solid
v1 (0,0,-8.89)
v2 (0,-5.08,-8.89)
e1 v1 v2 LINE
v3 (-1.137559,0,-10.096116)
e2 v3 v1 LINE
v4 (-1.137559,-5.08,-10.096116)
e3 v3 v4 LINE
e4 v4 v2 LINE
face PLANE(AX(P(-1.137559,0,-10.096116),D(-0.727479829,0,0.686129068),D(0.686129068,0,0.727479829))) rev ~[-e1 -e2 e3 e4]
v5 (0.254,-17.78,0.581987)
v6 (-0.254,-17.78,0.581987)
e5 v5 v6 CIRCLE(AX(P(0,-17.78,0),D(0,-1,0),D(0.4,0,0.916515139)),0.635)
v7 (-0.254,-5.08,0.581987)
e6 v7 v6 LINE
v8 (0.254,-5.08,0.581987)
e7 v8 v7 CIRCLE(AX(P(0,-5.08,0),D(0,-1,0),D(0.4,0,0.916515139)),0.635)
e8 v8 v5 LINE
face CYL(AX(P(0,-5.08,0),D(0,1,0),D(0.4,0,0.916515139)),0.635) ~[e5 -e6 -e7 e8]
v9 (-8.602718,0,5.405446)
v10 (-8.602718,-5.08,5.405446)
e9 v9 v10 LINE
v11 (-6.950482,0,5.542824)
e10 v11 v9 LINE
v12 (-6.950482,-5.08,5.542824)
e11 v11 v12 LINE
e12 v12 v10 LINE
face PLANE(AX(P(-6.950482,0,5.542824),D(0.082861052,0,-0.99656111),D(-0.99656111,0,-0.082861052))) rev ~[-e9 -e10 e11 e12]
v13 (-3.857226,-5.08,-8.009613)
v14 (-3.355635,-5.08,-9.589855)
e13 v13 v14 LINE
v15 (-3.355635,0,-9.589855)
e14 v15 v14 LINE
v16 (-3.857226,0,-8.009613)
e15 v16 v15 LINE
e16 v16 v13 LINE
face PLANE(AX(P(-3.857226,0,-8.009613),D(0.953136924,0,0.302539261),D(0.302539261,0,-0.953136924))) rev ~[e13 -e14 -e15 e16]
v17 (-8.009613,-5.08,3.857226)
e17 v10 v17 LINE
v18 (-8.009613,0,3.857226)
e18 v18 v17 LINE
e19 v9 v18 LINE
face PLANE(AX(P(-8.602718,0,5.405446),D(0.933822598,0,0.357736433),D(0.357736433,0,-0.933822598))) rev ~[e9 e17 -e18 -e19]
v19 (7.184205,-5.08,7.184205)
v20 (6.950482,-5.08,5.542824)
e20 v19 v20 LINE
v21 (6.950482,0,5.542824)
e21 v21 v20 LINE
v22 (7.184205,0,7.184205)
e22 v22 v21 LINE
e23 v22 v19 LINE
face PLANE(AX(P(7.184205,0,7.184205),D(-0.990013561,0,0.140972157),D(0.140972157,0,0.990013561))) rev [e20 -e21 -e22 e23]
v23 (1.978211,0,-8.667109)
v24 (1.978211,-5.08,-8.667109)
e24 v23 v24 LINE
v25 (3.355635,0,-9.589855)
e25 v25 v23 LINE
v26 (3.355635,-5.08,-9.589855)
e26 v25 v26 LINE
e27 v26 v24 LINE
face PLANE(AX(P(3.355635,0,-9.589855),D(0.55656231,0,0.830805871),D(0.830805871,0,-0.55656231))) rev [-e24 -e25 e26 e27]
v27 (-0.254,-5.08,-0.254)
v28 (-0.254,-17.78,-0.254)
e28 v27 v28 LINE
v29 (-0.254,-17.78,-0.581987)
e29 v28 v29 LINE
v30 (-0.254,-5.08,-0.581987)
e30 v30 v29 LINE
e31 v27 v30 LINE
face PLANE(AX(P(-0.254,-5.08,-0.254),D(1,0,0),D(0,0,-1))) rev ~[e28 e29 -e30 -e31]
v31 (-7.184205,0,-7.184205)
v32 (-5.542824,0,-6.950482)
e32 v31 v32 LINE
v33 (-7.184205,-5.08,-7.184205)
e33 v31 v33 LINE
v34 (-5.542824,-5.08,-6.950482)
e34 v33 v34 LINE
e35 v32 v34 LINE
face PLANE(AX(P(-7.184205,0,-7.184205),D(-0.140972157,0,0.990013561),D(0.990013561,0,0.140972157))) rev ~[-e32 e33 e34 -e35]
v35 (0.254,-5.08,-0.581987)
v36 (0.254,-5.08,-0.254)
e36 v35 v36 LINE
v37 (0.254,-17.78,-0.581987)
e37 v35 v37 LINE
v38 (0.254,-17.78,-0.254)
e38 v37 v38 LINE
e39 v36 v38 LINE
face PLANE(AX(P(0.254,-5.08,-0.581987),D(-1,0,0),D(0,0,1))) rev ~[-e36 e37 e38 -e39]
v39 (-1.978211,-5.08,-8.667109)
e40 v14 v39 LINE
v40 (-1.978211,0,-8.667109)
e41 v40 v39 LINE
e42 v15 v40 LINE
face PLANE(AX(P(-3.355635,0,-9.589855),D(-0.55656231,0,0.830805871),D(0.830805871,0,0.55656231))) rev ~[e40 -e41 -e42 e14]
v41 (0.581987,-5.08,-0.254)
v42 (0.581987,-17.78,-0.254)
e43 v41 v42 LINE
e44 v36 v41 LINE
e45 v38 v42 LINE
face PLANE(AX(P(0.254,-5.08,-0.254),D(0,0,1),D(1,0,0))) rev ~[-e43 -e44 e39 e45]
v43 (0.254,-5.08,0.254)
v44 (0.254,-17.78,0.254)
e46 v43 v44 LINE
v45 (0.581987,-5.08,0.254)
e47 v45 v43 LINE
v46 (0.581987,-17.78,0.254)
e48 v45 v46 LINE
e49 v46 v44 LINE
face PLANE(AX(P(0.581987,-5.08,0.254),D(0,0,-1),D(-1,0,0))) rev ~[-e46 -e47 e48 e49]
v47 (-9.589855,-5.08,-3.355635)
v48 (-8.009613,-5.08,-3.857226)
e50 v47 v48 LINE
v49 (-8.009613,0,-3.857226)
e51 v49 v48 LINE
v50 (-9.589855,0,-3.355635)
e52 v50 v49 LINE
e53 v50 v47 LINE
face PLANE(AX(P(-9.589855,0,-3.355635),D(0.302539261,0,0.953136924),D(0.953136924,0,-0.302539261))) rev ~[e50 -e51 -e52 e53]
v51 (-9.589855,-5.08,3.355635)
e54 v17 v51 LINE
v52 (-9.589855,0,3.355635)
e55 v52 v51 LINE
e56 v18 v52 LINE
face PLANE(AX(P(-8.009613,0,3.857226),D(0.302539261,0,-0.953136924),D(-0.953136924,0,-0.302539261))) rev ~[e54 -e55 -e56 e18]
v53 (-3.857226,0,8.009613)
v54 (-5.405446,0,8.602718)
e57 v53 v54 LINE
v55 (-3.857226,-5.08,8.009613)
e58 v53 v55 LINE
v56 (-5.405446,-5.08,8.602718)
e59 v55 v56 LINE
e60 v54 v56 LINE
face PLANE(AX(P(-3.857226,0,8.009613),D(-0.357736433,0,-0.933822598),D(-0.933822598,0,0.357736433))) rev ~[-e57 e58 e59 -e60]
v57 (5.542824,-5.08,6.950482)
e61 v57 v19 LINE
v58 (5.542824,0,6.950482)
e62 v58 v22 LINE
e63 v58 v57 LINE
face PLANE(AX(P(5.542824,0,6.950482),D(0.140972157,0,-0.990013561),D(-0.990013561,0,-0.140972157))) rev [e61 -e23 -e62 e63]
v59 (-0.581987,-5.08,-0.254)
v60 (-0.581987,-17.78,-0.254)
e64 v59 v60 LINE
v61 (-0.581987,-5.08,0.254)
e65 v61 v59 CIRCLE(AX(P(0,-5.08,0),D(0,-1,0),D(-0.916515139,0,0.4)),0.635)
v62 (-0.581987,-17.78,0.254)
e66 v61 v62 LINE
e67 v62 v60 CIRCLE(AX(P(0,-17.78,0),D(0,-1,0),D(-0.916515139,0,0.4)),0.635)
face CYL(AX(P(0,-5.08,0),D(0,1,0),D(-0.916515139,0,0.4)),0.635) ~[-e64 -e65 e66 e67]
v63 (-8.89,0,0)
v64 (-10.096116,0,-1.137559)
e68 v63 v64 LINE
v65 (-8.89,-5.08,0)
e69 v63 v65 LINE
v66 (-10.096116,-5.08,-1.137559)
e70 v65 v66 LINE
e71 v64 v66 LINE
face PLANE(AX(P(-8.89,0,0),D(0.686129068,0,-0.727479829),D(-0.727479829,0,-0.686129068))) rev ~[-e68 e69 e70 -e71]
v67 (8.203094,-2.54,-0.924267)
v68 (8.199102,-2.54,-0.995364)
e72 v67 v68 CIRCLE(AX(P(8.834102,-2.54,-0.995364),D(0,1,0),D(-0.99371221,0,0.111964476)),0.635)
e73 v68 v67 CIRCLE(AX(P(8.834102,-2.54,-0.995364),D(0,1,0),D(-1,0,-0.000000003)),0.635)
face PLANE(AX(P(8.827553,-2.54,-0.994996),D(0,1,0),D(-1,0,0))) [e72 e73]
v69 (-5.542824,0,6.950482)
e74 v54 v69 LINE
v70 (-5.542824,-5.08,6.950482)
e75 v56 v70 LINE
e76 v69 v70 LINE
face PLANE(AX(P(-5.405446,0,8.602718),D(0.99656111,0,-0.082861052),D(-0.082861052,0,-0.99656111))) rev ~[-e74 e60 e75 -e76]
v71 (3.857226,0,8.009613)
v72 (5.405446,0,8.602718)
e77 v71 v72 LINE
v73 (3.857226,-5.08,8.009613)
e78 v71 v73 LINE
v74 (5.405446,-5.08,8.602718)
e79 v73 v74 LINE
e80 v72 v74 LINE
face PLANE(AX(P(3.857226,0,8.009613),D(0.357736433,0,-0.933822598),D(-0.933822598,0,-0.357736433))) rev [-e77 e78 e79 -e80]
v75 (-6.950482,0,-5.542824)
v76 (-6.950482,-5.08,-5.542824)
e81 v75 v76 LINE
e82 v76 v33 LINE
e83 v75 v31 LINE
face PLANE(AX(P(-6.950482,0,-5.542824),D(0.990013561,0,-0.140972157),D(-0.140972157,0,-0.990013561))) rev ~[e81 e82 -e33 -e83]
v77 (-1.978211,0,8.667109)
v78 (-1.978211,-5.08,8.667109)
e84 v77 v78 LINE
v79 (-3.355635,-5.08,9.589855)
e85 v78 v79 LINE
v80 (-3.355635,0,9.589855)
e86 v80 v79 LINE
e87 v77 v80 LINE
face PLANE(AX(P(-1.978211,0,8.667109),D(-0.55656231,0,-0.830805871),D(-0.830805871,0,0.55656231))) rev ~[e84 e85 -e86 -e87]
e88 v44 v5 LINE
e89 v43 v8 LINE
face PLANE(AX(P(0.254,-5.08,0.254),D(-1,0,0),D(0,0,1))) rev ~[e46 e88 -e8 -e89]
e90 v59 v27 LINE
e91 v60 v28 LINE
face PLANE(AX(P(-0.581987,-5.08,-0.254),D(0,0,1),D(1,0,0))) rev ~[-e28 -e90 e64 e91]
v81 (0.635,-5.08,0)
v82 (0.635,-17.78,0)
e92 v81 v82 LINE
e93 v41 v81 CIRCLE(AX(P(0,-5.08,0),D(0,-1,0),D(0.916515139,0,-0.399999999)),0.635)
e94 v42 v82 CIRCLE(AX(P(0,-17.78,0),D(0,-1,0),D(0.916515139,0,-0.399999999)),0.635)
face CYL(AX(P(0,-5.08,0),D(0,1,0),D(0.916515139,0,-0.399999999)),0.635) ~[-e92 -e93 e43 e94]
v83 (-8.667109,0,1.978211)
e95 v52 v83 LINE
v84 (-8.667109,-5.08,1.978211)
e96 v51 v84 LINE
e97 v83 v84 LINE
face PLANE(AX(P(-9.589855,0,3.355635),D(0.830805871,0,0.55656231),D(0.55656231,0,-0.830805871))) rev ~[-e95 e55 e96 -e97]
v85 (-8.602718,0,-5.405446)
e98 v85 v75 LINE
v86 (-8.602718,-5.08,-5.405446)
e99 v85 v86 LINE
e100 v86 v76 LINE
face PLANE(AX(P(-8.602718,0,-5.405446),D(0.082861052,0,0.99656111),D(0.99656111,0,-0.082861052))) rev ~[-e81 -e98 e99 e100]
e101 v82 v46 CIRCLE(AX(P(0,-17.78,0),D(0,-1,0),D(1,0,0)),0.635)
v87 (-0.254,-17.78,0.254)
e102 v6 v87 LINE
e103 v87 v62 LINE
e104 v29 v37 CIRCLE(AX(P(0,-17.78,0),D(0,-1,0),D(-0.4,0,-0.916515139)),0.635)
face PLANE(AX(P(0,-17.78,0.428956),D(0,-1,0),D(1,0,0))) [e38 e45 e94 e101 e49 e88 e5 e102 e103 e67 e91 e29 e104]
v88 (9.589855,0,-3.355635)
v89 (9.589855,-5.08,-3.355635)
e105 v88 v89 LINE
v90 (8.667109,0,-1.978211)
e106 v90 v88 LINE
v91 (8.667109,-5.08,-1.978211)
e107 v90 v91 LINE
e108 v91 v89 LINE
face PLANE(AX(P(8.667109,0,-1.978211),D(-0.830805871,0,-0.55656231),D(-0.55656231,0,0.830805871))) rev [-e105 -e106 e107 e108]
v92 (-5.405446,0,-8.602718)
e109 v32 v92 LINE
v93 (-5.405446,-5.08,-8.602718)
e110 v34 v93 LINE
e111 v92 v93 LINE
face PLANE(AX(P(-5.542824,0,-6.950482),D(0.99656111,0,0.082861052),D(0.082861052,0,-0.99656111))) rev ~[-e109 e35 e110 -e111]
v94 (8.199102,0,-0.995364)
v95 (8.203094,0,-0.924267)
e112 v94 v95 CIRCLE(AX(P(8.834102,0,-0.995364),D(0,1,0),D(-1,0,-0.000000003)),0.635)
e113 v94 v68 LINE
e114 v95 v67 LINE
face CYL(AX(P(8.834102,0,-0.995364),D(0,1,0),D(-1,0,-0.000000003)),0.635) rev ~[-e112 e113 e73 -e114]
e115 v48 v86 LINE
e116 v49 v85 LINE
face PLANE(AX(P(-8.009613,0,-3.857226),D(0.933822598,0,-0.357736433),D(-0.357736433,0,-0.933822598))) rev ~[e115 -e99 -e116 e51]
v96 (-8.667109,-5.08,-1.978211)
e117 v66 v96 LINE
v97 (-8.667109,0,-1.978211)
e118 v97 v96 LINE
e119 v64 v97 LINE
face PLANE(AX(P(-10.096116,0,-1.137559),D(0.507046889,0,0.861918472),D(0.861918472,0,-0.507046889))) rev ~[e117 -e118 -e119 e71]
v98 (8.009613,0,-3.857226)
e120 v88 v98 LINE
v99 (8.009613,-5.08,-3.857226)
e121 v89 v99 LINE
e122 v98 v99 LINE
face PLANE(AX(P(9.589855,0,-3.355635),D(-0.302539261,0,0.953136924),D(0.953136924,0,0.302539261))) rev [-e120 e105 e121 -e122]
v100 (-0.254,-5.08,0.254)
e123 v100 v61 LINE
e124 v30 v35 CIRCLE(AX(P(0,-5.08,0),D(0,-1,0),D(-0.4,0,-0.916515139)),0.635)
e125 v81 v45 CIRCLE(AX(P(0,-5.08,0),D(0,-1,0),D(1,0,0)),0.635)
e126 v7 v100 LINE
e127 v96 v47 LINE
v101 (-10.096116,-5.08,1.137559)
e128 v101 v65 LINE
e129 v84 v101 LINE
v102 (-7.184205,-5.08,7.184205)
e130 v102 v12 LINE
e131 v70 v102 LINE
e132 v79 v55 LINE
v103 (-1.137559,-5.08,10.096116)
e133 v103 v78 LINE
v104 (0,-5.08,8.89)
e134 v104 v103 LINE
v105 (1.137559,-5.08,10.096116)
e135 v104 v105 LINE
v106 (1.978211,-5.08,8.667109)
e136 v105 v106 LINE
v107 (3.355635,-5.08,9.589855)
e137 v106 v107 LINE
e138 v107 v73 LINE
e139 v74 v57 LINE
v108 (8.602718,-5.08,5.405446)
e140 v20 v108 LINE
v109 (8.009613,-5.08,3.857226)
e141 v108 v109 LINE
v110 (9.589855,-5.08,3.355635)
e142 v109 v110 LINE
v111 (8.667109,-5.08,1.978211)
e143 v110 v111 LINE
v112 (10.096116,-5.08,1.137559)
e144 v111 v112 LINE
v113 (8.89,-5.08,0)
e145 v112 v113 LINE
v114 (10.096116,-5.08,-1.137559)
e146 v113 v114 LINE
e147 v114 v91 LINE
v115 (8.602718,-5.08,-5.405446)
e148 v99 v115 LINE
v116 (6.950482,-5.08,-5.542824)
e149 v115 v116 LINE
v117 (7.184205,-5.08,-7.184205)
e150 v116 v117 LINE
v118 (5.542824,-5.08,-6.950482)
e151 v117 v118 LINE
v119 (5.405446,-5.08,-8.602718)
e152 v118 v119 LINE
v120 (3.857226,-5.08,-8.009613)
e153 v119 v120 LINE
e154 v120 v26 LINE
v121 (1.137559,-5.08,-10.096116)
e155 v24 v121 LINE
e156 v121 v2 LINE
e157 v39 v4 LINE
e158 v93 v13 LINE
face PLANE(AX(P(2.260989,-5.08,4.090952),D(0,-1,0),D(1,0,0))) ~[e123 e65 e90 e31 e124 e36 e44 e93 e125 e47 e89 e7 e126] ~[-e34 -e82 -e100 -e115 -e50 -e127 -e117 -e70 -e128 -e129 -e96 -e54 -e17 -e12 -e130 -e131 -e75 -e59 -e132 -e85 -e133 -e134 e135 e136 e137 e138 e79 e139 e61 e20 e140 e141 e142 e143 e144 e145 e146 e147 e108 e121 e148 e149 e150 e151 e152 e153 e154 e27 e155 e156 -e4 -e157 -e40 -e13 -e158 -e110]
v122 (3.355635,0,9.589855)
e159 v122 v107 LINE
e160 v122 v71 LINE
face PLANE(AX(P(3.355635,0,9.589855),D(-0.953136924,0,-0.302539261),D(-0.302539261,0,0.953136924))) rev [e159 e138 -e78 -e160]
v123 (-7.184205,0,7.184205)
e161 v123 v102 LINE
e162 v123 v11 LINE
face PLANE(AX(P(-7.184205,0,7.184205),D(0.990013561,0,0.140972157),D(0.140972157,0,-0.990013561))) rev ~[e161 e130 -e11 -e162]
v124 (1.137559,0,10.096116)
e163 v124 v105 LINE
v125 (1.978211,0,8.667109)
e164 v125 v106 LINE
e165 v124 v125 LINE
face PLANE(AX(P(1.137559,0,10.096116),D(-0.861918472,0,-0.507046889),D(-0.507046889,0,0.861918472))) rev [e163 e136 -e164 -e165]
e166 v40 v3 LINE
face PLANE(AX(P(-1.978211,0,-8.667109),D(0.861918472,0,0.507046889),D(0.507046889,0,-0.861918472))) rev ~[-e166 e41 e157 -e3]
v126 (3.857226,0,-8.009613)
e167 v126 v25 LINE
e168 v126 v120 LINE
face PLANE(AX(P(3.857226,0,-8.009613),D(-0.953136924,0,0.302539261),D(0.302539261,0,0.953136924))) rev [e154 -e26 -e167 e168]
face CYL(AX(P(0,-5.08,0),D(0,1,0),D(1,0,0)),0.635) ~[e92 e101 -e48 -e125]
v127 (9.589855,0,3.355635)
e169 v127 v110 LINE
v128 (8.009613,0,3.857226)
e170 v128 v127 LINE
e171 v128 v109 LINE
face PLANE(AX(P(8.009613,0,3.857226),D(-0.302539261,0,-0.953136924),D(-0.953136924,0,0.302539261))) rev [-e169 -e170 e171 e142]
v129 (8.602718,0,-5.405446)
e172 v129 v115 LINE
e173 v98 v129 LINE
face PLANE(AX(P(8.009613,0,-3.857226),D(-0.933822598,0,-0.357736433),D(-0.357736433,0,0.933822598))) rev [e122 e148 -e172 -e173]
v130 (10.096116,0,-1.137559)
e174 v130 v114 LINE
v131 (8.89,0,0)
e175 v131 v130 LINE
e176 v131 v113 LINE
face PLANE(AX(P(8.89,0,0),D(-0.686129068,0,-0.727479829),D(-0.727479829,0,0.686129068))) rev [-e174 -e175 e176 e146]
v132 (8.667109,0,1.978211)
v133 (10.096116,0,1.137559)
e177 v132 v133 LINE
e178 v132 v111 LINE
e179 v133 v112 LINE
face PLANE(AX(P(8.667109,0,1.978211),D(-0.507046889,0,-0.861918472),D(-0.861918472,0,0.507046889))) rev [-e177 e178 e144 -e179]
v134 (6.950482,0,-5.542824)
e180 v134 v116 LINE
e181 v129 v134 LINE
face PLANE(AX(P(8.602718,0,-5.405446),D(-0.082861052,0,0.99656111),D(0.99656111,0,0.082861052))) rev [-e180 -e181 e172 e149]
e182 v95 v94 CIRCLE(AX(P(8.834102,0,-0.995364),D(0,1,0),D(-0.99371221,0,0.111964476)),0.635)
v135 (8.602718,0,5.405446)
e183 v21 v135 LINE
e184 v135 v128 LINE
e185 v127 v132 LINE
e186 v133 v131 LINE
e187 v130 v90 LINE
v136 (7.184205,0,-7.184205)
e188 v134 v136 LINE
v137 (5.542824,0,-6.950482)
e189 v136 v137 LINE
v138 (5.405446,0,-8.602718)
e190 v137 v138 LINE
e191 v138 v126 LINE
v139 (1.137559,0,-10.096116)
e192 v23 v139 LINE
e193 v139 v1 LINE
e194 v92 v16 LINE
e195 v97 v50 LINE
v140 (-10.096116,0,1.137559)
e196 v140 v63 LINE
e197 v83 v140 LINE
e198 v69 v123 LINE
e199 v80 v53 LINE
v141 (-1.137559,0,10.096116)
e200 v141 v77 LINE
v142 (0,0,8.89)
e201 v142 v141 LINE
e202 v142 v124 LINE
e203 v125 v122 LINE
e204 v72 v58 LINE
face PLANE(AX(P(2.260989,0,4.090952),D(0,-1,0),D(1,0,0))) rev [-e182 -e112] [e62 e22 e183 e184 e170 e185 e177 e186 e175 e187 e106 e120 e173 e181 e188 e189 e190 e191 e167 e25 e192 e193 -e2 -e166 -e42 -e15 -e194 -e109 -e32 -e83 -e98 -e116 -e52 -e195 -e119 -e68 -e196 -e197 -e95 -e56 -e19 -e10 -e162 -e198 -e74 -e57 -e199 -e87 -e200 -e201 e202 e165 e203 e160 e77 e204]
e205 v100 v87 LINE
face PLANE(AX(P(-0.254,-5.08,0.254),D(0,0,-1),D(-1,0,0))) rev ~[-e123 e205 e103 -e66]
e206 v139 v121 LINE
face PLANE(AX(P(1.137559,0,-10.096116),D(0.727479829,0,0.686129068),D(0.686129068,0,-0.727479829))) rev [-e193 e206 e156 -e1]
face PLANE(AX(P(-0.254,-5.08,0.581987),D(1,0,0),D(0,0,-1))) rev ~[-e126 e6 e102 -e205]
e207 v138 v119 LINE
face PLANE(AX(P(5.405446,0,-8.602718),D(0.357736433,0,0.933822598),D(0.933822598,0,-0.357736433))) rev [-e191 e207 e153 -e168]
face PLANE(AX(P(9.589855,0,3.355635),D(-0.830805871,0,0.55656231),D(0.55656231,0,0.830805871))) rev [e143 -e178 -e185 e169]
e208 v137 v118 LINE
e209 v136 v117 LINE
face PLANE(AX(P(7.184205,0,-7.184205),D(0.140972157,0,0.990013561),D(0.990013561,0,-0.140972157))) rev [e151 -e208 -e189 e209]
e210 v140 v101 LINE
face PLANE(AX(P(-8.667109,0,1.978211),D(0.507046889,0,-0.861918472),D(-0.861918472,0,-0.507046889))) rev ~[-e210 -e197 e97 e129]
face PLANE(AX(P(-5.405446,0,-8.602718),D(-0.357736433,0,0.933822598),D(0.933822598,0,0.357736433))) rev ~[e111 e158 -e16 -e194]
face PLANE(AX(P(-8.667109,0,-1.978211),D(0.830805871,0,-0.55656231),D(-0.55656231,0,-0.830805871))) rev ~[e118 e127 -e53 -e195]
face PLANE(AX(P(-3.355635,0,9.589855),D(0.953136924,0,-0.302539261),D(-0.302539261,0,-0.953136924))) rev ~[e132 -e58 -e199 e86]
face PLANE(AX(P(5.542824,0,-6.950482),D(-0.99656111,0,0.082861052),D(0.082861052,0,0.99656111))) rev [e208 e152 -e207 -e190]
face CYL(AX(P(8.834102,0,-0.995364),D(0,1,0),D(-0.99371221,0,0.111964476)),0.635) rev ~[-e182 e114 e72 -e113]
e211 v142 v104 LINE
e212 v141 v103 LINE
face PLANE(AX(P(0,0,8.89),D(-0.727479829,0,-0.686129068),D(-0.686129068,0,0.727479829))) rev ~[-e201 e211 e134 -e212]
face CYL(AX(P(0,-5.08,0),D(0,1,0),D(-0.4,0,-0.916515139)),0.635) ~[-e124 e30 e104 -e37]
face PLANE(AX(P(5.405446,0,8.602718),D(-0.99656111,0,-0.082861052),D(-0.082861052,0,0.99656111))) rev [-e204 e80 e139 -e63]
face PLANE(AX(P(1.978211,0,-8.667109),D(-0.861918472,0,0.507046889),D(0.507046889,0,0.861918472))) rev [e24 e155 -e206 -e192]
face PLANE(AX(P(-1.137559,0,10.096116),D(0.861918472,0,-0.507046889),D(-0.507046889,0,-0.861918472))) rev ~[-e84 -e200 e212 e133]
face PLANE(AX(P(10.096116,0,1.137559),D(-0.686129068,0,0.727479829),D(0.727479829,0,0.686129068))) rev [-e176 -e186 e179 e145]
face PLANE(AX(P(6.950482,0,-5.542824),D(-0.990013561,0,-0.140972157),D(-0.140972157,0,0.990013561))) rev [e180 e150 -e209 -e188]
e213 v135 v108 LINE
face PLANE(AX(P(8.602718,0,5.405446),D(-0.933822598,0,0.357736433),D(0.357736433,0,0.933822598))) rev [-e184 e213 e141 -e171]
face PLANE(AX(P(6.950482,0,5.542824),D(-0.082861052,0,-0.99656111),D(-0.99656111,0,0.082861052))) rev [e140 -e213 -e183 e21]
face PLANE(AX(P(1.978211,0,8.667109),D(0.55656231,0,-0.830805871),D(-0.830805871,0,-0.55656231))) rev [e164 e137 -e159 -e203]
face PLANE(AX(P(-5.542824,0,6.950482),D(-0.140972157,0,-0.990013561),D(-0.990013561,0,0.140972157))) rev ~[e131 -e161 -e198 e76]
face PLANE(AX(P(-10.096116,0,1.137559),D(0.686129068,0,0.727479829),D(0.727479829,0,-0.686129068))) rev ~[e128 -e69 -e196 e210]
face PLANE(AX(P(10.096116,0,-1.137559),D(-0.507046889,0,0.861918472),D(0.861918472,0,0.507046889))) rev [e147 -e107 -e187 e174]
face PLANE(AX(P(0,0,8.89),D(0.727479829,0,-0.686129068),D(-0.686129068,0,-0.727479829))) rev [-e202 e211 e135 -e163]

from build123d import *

# Parameters (mm, degrees)
F1_DEPTH = 5.08
F3_W     = 0.508
F3_H     = 0.508
F4_DEPTH = 12.7
F6_DEPTH = 2.54


with BuildPart() as f1:
    # F0 (on Front) → F1 (new body)
    with BuildSketch(Plane.XZ):
        with BuildLine():
            Line((-4.7297651602, 7.5273781311), (0, 0))
            Line((0, 0), (-3.8572264408, 8.0096132357))
            ThreePointArc((-3.8572264408, 8.0096132357), (-4.3002609064, 7.7807362208), (-4.7297651602, 7.5273781311))
        make_face()
        with BuildLine():
            Line((-5.5428243385, 6.9504818791), (0, 0))
            Line((0, 0), (-4.7297651602, 7.5273781311))
            ThreePointArc((-4.7297651602, 7.5273781311), (-5.144387823, 7.250336125), (-5.5428243385, 6.9504818791))
        make_face()
        with BuildLine():
            Line((-5.4054458974, 8.6027178642), (-5.5428243385, 6.9504818791))
            ThreePointArc((-5.5428243385, 6.9504818791), (-5.144387823, 7.250336125), (-4.7297651602, 7.5273781311))
            Line((-4.7297651602, 7.5273781311), (-5.4054458974, 8.6027178642))
        make_face()
        with BuildLine():
            Line((-5.4054458974, 8.6027178642), (-4.7297651602, 7.5273781311))
            ThreePointArc((-4.7297651602, 7.5273781311), (-4.3002609064, 7.7807362208), (-3.8572264408, 8.0096132357))
            Line((-3.8572264408, 8.0096132357), (-5.4054458974, 8.6027178642))
        make_face()
        with BuildLine():
            Line((-3.3556352695, 9.5898546359), (-3.8572264408, 8.0096132357))
            ThreePointArc((-3.8572264408, 8.0096132357), (-3.4020557137, 8.213289044), (-2.9361808608, 8.3911228064))
            Line((-2.9361808608, 8.3911228064), (-3.3556352695, 9.5898546359))
        make_face()
        with BuildLine():
            Line((-3.3556352695, 9.5898546359), (-2.9361808608, 8.3911228064))
            ThreePointArc((-2.9361808608, 8.3911228064), (-2.4610676966, 8.5425549921), (-1.9782111029, 8.6671091393))
            Line((-1.9782111029, 8.6671091393), (-3.3556352695, 9.5898546359))
        make_face()
        with BuildLine():
            Line((-2.9361808608, 8.3911228064), (0, 0))
            Line((0, 0), (-1.9782111029, 8.6671091393))
            ThreePointArc((-1.9782111029, 8.6671091393), (-2.4610676966, 8.5425549921), (-2.9361808608, 8.3911228064))
        make_face()
        with BuildLine():
            Line((-3.8572264408, 8.0096132357), (0, 0))
            Line((0, 0), (-2.9361808608, 8.3911228064))
            ThreePointArc((-2.9361808608, 8.3911228064), (-3.4020557137, 8.213289044), (-3.8572264408, 8.0096132357))
        make_face()
        with BuildLine():
            Line((-0.9953641926, 8.834101546), (0, 0))
            Line((0, 0), (0, 8.89))
            ThreePointArc((0, 8.89), (-0.4984662759, 8.8760143855), (-0.9953641926, 8.834101546))
        make_face()
        with BuildLine():
            ThreePointArc((-0.9953641926, 8.834101546), (-0.4984662759, 8.8760143855), (0, 8.89))
            Line((0, 8.89), (-1.1375590772, 10.0961160525))
            Line((-1.1375590772, 10.0961160525), (-0.9953641926, 8.834101546))
        make_face()
        with BuildLine():
            Line((-1.1375590772, 10.0961160525), (-1.9782111029, 8.6671091393))
            ThreePointArc((-1.9782111029, 8.6671091393), (-1.4891303252, 8.7643933546), (-0.9953641926, 8.834101546))
            Line((-0.9953641926, 8.834101546), (-1.1375590772, 10.0961160525))
        make_face()
        with BuildLine():
            Line((-1.9782111029, 8.6671091393), (0, 0))
            Line((0, 0), (-0.9953641926, 8.834101546))
            ThreePointArc((-0.9953641926, 8.834101546), (-1.4891303252, 8.7643933546), (-1.9782111029, 8.6671091393))
        make_face()
        with BuildLine():
            Line((-6.2861792847, 6.2861792847), (0, 0))
            Line((0, 0), (-5.5428243385, 6.9504818791))
            ThreePointArc((-5.5428243385, 6.9504818791), (-5.923821078, 6.6287588458), (-6.2861792847, 6.2861792847))
        make_face()
        with BuildLine():
            Line((-7.1842048969, 7.1842048969), (-6.2861792847, 6.2861792847))
            ThreePointArc((-6.2861792847, 6.2861792847), (-5.923821078, 6.6287588458), (-5.5428243385, 6.9504818791))
            Line((-5.5428243385, 6.9504818791), (-7.1842048969, 7.1842048969))
        make_face()
        with BuildLine():
            Line((-6.9504818791, 5.5428243385), (0, 0))
            Line((0, 0), (-6.2861792847, 6.2861792847))
            ThreePointArc((-6.2861792847, 6.2861792847), (-6.6287588458, 5.923821078), (-6.9504818791, 5.5428243385))
        make_face()
        with BuildLine():
            Line((-7.1842048969, 7.1842048969), (-6.9504818791, 5.5428243385))
            ThreePointArc((-6.9504818791, 5.5428243385), (-6.6287588458, 5.923821078), (-6.2861792847, 6.2861792847))
            Line((-6.2861792847, 6.2861792847), (-7.1842048969, 7.1842048969))
        make_face()
        with BuildLine():
            Line((-7.5273781311, 4.7297651602), (0, 0))
            Line((0, 0), (-6.9504818791, 5.5428243385))
            ThreePointArc((-6.9504818791, 5.5428243385), (-7.250336125, 5.144387823), (-7.5273781311, 4.7297651602))
        make_face()
        with BuildLine():
            Line((-8.6027178642, 5.4054458974), (-7.5273781311, 4.7297651602))
            ThreePointArc((-7.5273781311, 4.7297651602), (-7.250336125, 5.144387823), (-6.9504818791, 5.5428243385))
            Line((-6.9504818791, 5.5428243385), (-8.6027178642, 5.4054458974))
        make_face()
        with BuildLine():
            Line((-8.6027178642, 5.4054458974), (-8.0096132357, 3.8572264408))
            ThreePointArc((-8.0096132357, 3.8572264408), (-7.7807362208, 4.3002609064), (-7.5273781311, 4.7297651602))
            Line((-7.5273781311, 4.7297651602), (-8.6027178642, 5.4054458974))
        make_face()
        with BuildLine():
            Line((-8.0096132357, 3.8572264408), (0, 0))
            Line((0, 0), (-7.5273781311, 4.7297651602))
            ThreePointArc((-7.5273781311, 4.7297651602), (-7.7807362208, 4.3002609064), (-8.0096132357, 3.8572264408))
        make_face()
        with BuildLine():
            Line((-8.3911228064, 2.9361808608), (0, 0))
            Line((0, 0), (-8.0096132357, 3.8572264408))
            ThreePointArc((-8.0096132357, 3.8572264408), (-8.213289044, 3.4020557137), (-8.3911228064, 2.9361808608))
        make_face()
        with BuildLine():
            Line((-9.5898546359, 3.3556352695), (-8.3911228064, 2.9361808608))
            ThreePointArc((-8.3911228064, 2.9361808608), (-8.213289044, 3.4020557137), (-8.0096132357, 3.8572264408))
            Line((-8.0096132357, 3.8572264408), (-9.5898546359, 3.3556352695))
        make_face()
        with BuildLine():
            Line((-9.5898546359, 3.3556352695), (-8.6671091393, 1.9782111029))
            ThreePointArc((-8.6671091393, 1.9782111029), (-8.5425549921, 2.4610676966), (-8.3911228064, 2.9361808608))
            Line((-8.3911228064, 2.9361808608), (-9.5898546359, 3.3556352695))
        make_face()
        with BuildLine():
            Line((-8.6671091393, 1.9782111029), (0, 0))
            Line((0, 0), (-8.3911228064, 2.9361808608))
            ThreePointArc((-8.3911228064, 2.9361808608), (-8.5425549921, 2.4610676966), (-8.6671091393, 1.9782111029))
        make_face()
        with BuildLine():
            Line((-8.834101546, 0.9953641926), (0, 0))
            Line((0, 0), (-8.6671091393, 1.9782111029))
            ThreePointArc((-8.6671091393, 1.9782111029), (-8.7643933546, 1.4891303252), (-8.834101546, 0.9953641926))
        make_face()
        with BuildLine():
            Line((-10.0961160525, 1.1375590772), (-8.834101546, 0.9953641926))
            ThreePointArc((-8.834101546, 0.9953641926), (-8.7643933546, 1.4891303252), (-8.6671091393, 1.9782111029))
            Line((-8.6671091393, 1.9782111029), (-10.0961160525, 1.1375590772))
        make_face()
        with BuildLine():
            Line((-10.0961160525, 1.1375590772), (-8.89, 0))
            ThreePointArc((-8.89, 0), (-8.8760143855, 0.4984662759), (-8.834101546, 0.9953641926))
            Line((-8.834101546, 0.9953641926), (-10.0961160525, 1.1375590772))
        make_face()
        with BuildLine():
            Line((-8.89, 0), (0, 0))
            Line((0, 0), (-8.834101546, 0.9953641926))
            ThreePointArc((-8.834101546, 0.9953641926), (-8.8760143855, 0.4984662759), (-8.89, 0))
        make_face()
        with BuildLine():
            Line((-8.834101546, -0.9953641926), (0, 0))
            Line((0, 0), (-8.89, 0))
            ThreePointArc((-8.89, 0), (-8.8760143855, -0.4984662759), (-8.834101546, -0.9953641926))
        make_face()
        with BuildLine():
            Line((-10.0961160525, -1.1375590772), (-8.834101546, -0.9953641926))
            ThreePointArc((-8.834101546, -0.9953641926), (-8.8760143855, -0.4984662759), (-8.89, 0))
            Line((-8.89, 0), (-10.0961160525, -1.1375590772))
        make_face()
        with BuildLine():
            Line((-10.0961160525, -1.1375590772), (-8.6671091393, -1.9782111029))
            ThreePointArc((-8.6671091393, -1.9782111029), (-8.7643933546, -1.4891303252), (-8.834101546, -0.9953641926))
            Line((-8.834101546, -0.9953641926), (-10.0961160525, -1.1375590772))
        make_face()
        with BuildLine():
            Line((-8.6671091393, -1.9782111029), (0, 0))
            Line((0, 0), (-8.834101546, -0.9953641926))
            ThreePointArc((-8.834101546, -0.9953641926), (-8.7643933546, -1.4891303252), (-8.6671091393, -1.9782111029))
        make_face()
        with BuildLine():
            Line((-8.3911228064, -2.9361808608), (0, 0))
            Line((0, 0), (-8.6671091393, -1.9782111029))
            ThreePointArc((-8.6671091393, -1.9782111029), (-8.5425549921, -2.4610676966), (-8.3911228064, -2.9361808608))
        make_face()
        with BuildLine():
            Line((-9.5898546359, -3.3556352695), (-8.3911228064, -2.9361808608))
            ThreePointArc((-8.3911228064, -2.9361808608), (-8.5425549921, -2.4610676966), (-8.6671091393, -1.9782111029))
            Line((-8.6671091393, -1.9782111029), (-9.5898546359, -3.3556352695))
        make_face()
        with BuildLine():
            Line((-9.5898546359, -3.3556352695), (-8.0096132357, -3.8572264408))
            ThreePointArc((-8.0096132357, -3.8572264408), (-8.213289044, -3.4020557137), (-8.3911228064, -2.9361808608))
            Line((-8.3911228064, -2.9361808608), (-9.5898546359, -3.3556352695))
        make_face()
        with BuildLine():
            Line((-8.0096132357, -3.8572264408), (0, 0))
            Line((0, 0), (-8.3911228064, -2.9361808608))
            ThreePointArc((-8.3911228064, -2.9361808608), (-8.213289044, -3.4020557137), (-8.0096132357, -3.8572264408))
        make_face()
        with BuildLine():
            Line((-7.5273781311, -4.7297651602), (0, 0))
            Line((0, 0), (-8.0096132357, -3.8572264408))
            ThreePointArc((-8.0096132357, -3.8572264408), (-7.7807362208, -4.3002609064), (-7.5273781311, -4.7297651602))
        make_face()
        with BuildLine():
            Line((-8.6027178642, -5.4054458974), (-7.5273781311, -4.7297651602))
            ThreePointArc((-7.5273781311, -4.7297651602), (-7.7807362208, -4.3002609064), (-8.0096132357, -3.8572264408))
            Line((-8.0096132357, -3.8572264408), (-8.6027178642, -5.4054458974))
        make_face()
        with BuildLine():
            Line((-8.6027178642, -5.4054458974), (-6.9504818791, -5.5428243385))
            ThreePointArc((-6.9504818791, -5.5428243385), (-7.250336125, -5.144387823), (-7.5273781311, -4.7297651602))
            Line((-7.5273781311, -4.7297651602), (-8.6027178642, -5.4054458974))
        make_face()
        with BuildLine():
            Line((-6.9504818791, -5.5428243385), (0, 0))
            Line((0, 0), (-7.5273781311, -4.7297651602))
            ThreePointArc((-7.5273781311, -4.7297651602), (-7.250336125, -5.144387823), (-6.9504818791, -5.5428243385))
        make_face()
        with BuildLine():
            Line((-6.2861792847, -6.2861792847), (0, 0))
            Line((0, 0), (-6.9504818791, -5.5428243385))
            ThreePointArc((-6.9504818791, -5.5428243385), (-6.6287588458, -5.923821078), (-6.2861792847, -6.2861792847))
        make_face()
        with BuildLine():
            Line((-5.5428243385, -6.9504818791), (0, 0))
            Line((0, 0), (-6.2861792847, -6.2861792847))
            ThreePointArc((-6.2861792847, -6.2861792847), (-5.923821078, -6.6287588458), (-5.5428243385, -6.9504818791))
        make_face()
        with BuildLine():
            Line((-4.7297651602, -7.5273781311), (0, 0))
            Line((0, 0), (-5.5428243385, -6.9504818791))
            ThreePointArc((-5.5428243385, -6.9504818791), (-5.144387823, -7.250336125), (-4.7297651602, -7.5273781311))
        make_face()
        with BuildLine():
            Line((-7.1842048969, -7.1842048969), (-6.2861792847, -6.2861792847))
            ThreePointArc((-6.2861792847, -6.2861792847), (-6.6287588458, -5.923821078), (-6.9504818791, -5.5428243385))
            Line((-6.9504818791, -5.5428243385), (-7.1842048969, -7.1842048969))
        make_face()
        with BuildLine():
            Line((-7.1842048969, -7.1842048969), (-5.5428243385, -6.9504818791))
            ThreePointArc((-5.5428243385, -6.9504818791), (-5.923821078, -6.6287588458), (-6.2861792847, -6.2861792847))
            Line((-6.2861792847, -6.2861792847), (-7.1842048969, -7.1842048969))
        make_face()
        with BuildLine():
            Line((-5.4054458974, -8.6027178642), (-4.7297651602, -7.5273781311))
            ThreePointArc((-4.7297651602, -7.5273781311), (-5.144387823, -7.250336125), (-5.5428243385, -6.9504818791))
            Line((-5.5428243385, -6.9504818791), (-5.4054458974, -8.6027178642))
        make_face()
        with BuildLine():
            Line((-5.4054458974, -8.6027178642), (-3.8572264408, -8.0096132357))
            ThreePointArc((-3.8572264408, -8.0096132357), (-4.3002609064, -7.7807362208), (-4.7297651602, -7.5273781311))
            Line((-4.7297651602, -7.5273781311), (-5.4054458974, -8.6027178642))
        make_face()
        with BuildLine():
            Line((-2.9361808608, -8.3911228064), (0, 0))
            Line((0, 0), (-3.8572264408, -8.0096132357))
            ThreePointArc((-3.8572264408, -8.0096132357), (-3.4020557137, -8.213289044), (-2.9361808608, -8.3911228064))
        make_face()
        with BuildLine():
            Line((-3.3556352695, -9.5898546359), (-2.9361808608, -8.3911228064))
            ThreePointArc((-2.9361808608, -8.3911228064), (-3.4020557137, -8.213289044), (-3.8572264408, -8.0096132357))
            Line((-3.8572264408, -8.0096132357), (-3.3556352695, -9.5898546359))
        make_face()
        with BuildLine():
            Line((-3.3556352695, -9.5898546359), (-1.9782111029, -8.6671091393))
            ThreePointArc((-1.9782111029, -8.6671091393), (-2.4610676966, -8.5425549921), (-2.9361808608, -8.3911228064))
            Line((-2.9361808608, -8.3911228064), (-3.3556352695, -9.5898546359))
        make_face()
        with BuildLine():
            Line((-1.9782111029, -8.6671091393), (0, 0))
            Line((0, 0), (-2.9361808608, -8.3911228064))
            ThreePointArc((-2.9361808608, -8.3911228064), (-2.4610676966, -8.5425549921), (-1.9782111029, -8.6671091393))
        make_face()
        with BuildLine():
            Line((-0.9953641926, -8.834101546), (0, 0))
            Line((0, 0), (-1.9782111029, -8.6671091393))
            ThreePointArc((-1.9782111029, -8.6671091393), (-1.4891303252, -8.7643933546), (-0.9953641926, -8.834101546))
        make_face()
        with BuildLine():
            Line((-1.1375590772, -10.0961160525), (0, -8.89))
            ThreePointArc((0, -8.89), (-0.4984662759, -8.8760143855), (-0.9953641926, -8.834101546))
            Line((-0.9953641926, -8.834101546), (-1.1375590772, -10.0961160525))
        make_face()
        with BuildLine():
            ThreePointArc((-0.9953641926, -8.834101546), (-1.4891303252, -8.7643933546), (-1.9782111029, -8.6671091393))
            Line((-1.9782111029, -8.6671091393), (-1.1375590772, -10.0961160525))
            Line((-1.1375590772, -10.0961160525), (-0.9953641926, -8.834101546))
        make_face()
        with BuildLine():
            Line((0, -8.89), (0, 0))
            Line((0, 0), (-0.9953641926, -8.834101546))
            ThreePointArc((-0.9953641926, -8.834101546), (-0.4984662759, -8.8760143855), (0, -8.89))
        make_face()
        with BuildLine():
            Line((-3.8572264408, -8.0096132357), (0, 0))
            Line((0, 0), (-4.7297651602, -7.5273781311))
            ThreePointArc((-4.7297651602, -7.5273781311), (-4.3002609064, -7.7807362208), (-3.8572264408, -8.0096132357))
        make_face()
    extrude(amount=F1_DEPTH)

    # F2: F1 across plane


with BuildPart() as f1_1:
    add(f1.part)
    add(f1.part.mirror(Plane.YZ))

    # F3 (on face) → F4 (join)
    with BuildSketch(Plane.XZ.offset(5.08)):
        with BuildLine():
            Line((0.254, 0.254), (0.254, 0.5819871133))
            ThreePointArc((0.254, 0.5819871133), (0, 0.635), (-0.254, 0.5819871133))
            Line((-0.254, 0.5819871133), (-0.254, 0.254))
            Line((-0.254, 0.254), (0.254, 0.254))
        make_face()
        with BuildLine():
            Line((-0.254, -0.254), (-0.254, 0.254))
            Line((-0.254, 0.254), (-0.5819871133, 0.254))
            ThreePointArc((-0.5819871133, 0.254), (-0.635, 0), (-0.5819871133, -0.254))
            Line((-0.5819871133, -0.254), (-0.254, -0.254))
        make_face()
        Rectangle(F3_W, F3_H)
        with BuildLine():
            ThreePointArc((0.5819871133, -0.254), (0.6216055087, -0.1297366237), (0.635, 0))
            ThreePointArc((0.635, 0), (0.6216055087, 0.1297366237), (0.5819871133, 0.254))
            Line((0.5819871133, 0.254), (0.254, 0.254))
            Line((0.254, 0.254), (0.254, -0.254))
            Line((0.254, -0.254), (0.5819871133, -0.254))
        make_face()
        with BuildLine():
            ThreePointArc((-0.254, -0.5819871133), (0, -0.635), (0.254, -0.5819871133))
            Line((0.254, -0.5819871133), (0.254, -0.254))
            Line((0.254, -0.254), (-0.254, -0.254))
            Line((-0.254, -0.254), (-0.254, -0.5819871133))
        make_face()
    extrude(amount=F4_DEPTH)

    # F5 (on face) → F6 (cut)
    with BuildSketch(Plane(origin=(0, 0, 0), x_dir=(-1, 0, 0), z_dir=(0, 1, 0))):
        with BuildLine():
            ThreePointArc((-8.2030942927, -0.9242667502), (-9.4681025735, -1.0309689266), (-8.199101546, -0.9953641926))
            ThreePointArc((-8.199101546, -0.9953641926), (-8.2001005184, -0.9597594586), (-8.2030942927, -0.9242667502))
        make_face()
    extrude(amount=-F6_DEPTH, mode=Mode.SUBTRACT)


solid = f1_1.part
